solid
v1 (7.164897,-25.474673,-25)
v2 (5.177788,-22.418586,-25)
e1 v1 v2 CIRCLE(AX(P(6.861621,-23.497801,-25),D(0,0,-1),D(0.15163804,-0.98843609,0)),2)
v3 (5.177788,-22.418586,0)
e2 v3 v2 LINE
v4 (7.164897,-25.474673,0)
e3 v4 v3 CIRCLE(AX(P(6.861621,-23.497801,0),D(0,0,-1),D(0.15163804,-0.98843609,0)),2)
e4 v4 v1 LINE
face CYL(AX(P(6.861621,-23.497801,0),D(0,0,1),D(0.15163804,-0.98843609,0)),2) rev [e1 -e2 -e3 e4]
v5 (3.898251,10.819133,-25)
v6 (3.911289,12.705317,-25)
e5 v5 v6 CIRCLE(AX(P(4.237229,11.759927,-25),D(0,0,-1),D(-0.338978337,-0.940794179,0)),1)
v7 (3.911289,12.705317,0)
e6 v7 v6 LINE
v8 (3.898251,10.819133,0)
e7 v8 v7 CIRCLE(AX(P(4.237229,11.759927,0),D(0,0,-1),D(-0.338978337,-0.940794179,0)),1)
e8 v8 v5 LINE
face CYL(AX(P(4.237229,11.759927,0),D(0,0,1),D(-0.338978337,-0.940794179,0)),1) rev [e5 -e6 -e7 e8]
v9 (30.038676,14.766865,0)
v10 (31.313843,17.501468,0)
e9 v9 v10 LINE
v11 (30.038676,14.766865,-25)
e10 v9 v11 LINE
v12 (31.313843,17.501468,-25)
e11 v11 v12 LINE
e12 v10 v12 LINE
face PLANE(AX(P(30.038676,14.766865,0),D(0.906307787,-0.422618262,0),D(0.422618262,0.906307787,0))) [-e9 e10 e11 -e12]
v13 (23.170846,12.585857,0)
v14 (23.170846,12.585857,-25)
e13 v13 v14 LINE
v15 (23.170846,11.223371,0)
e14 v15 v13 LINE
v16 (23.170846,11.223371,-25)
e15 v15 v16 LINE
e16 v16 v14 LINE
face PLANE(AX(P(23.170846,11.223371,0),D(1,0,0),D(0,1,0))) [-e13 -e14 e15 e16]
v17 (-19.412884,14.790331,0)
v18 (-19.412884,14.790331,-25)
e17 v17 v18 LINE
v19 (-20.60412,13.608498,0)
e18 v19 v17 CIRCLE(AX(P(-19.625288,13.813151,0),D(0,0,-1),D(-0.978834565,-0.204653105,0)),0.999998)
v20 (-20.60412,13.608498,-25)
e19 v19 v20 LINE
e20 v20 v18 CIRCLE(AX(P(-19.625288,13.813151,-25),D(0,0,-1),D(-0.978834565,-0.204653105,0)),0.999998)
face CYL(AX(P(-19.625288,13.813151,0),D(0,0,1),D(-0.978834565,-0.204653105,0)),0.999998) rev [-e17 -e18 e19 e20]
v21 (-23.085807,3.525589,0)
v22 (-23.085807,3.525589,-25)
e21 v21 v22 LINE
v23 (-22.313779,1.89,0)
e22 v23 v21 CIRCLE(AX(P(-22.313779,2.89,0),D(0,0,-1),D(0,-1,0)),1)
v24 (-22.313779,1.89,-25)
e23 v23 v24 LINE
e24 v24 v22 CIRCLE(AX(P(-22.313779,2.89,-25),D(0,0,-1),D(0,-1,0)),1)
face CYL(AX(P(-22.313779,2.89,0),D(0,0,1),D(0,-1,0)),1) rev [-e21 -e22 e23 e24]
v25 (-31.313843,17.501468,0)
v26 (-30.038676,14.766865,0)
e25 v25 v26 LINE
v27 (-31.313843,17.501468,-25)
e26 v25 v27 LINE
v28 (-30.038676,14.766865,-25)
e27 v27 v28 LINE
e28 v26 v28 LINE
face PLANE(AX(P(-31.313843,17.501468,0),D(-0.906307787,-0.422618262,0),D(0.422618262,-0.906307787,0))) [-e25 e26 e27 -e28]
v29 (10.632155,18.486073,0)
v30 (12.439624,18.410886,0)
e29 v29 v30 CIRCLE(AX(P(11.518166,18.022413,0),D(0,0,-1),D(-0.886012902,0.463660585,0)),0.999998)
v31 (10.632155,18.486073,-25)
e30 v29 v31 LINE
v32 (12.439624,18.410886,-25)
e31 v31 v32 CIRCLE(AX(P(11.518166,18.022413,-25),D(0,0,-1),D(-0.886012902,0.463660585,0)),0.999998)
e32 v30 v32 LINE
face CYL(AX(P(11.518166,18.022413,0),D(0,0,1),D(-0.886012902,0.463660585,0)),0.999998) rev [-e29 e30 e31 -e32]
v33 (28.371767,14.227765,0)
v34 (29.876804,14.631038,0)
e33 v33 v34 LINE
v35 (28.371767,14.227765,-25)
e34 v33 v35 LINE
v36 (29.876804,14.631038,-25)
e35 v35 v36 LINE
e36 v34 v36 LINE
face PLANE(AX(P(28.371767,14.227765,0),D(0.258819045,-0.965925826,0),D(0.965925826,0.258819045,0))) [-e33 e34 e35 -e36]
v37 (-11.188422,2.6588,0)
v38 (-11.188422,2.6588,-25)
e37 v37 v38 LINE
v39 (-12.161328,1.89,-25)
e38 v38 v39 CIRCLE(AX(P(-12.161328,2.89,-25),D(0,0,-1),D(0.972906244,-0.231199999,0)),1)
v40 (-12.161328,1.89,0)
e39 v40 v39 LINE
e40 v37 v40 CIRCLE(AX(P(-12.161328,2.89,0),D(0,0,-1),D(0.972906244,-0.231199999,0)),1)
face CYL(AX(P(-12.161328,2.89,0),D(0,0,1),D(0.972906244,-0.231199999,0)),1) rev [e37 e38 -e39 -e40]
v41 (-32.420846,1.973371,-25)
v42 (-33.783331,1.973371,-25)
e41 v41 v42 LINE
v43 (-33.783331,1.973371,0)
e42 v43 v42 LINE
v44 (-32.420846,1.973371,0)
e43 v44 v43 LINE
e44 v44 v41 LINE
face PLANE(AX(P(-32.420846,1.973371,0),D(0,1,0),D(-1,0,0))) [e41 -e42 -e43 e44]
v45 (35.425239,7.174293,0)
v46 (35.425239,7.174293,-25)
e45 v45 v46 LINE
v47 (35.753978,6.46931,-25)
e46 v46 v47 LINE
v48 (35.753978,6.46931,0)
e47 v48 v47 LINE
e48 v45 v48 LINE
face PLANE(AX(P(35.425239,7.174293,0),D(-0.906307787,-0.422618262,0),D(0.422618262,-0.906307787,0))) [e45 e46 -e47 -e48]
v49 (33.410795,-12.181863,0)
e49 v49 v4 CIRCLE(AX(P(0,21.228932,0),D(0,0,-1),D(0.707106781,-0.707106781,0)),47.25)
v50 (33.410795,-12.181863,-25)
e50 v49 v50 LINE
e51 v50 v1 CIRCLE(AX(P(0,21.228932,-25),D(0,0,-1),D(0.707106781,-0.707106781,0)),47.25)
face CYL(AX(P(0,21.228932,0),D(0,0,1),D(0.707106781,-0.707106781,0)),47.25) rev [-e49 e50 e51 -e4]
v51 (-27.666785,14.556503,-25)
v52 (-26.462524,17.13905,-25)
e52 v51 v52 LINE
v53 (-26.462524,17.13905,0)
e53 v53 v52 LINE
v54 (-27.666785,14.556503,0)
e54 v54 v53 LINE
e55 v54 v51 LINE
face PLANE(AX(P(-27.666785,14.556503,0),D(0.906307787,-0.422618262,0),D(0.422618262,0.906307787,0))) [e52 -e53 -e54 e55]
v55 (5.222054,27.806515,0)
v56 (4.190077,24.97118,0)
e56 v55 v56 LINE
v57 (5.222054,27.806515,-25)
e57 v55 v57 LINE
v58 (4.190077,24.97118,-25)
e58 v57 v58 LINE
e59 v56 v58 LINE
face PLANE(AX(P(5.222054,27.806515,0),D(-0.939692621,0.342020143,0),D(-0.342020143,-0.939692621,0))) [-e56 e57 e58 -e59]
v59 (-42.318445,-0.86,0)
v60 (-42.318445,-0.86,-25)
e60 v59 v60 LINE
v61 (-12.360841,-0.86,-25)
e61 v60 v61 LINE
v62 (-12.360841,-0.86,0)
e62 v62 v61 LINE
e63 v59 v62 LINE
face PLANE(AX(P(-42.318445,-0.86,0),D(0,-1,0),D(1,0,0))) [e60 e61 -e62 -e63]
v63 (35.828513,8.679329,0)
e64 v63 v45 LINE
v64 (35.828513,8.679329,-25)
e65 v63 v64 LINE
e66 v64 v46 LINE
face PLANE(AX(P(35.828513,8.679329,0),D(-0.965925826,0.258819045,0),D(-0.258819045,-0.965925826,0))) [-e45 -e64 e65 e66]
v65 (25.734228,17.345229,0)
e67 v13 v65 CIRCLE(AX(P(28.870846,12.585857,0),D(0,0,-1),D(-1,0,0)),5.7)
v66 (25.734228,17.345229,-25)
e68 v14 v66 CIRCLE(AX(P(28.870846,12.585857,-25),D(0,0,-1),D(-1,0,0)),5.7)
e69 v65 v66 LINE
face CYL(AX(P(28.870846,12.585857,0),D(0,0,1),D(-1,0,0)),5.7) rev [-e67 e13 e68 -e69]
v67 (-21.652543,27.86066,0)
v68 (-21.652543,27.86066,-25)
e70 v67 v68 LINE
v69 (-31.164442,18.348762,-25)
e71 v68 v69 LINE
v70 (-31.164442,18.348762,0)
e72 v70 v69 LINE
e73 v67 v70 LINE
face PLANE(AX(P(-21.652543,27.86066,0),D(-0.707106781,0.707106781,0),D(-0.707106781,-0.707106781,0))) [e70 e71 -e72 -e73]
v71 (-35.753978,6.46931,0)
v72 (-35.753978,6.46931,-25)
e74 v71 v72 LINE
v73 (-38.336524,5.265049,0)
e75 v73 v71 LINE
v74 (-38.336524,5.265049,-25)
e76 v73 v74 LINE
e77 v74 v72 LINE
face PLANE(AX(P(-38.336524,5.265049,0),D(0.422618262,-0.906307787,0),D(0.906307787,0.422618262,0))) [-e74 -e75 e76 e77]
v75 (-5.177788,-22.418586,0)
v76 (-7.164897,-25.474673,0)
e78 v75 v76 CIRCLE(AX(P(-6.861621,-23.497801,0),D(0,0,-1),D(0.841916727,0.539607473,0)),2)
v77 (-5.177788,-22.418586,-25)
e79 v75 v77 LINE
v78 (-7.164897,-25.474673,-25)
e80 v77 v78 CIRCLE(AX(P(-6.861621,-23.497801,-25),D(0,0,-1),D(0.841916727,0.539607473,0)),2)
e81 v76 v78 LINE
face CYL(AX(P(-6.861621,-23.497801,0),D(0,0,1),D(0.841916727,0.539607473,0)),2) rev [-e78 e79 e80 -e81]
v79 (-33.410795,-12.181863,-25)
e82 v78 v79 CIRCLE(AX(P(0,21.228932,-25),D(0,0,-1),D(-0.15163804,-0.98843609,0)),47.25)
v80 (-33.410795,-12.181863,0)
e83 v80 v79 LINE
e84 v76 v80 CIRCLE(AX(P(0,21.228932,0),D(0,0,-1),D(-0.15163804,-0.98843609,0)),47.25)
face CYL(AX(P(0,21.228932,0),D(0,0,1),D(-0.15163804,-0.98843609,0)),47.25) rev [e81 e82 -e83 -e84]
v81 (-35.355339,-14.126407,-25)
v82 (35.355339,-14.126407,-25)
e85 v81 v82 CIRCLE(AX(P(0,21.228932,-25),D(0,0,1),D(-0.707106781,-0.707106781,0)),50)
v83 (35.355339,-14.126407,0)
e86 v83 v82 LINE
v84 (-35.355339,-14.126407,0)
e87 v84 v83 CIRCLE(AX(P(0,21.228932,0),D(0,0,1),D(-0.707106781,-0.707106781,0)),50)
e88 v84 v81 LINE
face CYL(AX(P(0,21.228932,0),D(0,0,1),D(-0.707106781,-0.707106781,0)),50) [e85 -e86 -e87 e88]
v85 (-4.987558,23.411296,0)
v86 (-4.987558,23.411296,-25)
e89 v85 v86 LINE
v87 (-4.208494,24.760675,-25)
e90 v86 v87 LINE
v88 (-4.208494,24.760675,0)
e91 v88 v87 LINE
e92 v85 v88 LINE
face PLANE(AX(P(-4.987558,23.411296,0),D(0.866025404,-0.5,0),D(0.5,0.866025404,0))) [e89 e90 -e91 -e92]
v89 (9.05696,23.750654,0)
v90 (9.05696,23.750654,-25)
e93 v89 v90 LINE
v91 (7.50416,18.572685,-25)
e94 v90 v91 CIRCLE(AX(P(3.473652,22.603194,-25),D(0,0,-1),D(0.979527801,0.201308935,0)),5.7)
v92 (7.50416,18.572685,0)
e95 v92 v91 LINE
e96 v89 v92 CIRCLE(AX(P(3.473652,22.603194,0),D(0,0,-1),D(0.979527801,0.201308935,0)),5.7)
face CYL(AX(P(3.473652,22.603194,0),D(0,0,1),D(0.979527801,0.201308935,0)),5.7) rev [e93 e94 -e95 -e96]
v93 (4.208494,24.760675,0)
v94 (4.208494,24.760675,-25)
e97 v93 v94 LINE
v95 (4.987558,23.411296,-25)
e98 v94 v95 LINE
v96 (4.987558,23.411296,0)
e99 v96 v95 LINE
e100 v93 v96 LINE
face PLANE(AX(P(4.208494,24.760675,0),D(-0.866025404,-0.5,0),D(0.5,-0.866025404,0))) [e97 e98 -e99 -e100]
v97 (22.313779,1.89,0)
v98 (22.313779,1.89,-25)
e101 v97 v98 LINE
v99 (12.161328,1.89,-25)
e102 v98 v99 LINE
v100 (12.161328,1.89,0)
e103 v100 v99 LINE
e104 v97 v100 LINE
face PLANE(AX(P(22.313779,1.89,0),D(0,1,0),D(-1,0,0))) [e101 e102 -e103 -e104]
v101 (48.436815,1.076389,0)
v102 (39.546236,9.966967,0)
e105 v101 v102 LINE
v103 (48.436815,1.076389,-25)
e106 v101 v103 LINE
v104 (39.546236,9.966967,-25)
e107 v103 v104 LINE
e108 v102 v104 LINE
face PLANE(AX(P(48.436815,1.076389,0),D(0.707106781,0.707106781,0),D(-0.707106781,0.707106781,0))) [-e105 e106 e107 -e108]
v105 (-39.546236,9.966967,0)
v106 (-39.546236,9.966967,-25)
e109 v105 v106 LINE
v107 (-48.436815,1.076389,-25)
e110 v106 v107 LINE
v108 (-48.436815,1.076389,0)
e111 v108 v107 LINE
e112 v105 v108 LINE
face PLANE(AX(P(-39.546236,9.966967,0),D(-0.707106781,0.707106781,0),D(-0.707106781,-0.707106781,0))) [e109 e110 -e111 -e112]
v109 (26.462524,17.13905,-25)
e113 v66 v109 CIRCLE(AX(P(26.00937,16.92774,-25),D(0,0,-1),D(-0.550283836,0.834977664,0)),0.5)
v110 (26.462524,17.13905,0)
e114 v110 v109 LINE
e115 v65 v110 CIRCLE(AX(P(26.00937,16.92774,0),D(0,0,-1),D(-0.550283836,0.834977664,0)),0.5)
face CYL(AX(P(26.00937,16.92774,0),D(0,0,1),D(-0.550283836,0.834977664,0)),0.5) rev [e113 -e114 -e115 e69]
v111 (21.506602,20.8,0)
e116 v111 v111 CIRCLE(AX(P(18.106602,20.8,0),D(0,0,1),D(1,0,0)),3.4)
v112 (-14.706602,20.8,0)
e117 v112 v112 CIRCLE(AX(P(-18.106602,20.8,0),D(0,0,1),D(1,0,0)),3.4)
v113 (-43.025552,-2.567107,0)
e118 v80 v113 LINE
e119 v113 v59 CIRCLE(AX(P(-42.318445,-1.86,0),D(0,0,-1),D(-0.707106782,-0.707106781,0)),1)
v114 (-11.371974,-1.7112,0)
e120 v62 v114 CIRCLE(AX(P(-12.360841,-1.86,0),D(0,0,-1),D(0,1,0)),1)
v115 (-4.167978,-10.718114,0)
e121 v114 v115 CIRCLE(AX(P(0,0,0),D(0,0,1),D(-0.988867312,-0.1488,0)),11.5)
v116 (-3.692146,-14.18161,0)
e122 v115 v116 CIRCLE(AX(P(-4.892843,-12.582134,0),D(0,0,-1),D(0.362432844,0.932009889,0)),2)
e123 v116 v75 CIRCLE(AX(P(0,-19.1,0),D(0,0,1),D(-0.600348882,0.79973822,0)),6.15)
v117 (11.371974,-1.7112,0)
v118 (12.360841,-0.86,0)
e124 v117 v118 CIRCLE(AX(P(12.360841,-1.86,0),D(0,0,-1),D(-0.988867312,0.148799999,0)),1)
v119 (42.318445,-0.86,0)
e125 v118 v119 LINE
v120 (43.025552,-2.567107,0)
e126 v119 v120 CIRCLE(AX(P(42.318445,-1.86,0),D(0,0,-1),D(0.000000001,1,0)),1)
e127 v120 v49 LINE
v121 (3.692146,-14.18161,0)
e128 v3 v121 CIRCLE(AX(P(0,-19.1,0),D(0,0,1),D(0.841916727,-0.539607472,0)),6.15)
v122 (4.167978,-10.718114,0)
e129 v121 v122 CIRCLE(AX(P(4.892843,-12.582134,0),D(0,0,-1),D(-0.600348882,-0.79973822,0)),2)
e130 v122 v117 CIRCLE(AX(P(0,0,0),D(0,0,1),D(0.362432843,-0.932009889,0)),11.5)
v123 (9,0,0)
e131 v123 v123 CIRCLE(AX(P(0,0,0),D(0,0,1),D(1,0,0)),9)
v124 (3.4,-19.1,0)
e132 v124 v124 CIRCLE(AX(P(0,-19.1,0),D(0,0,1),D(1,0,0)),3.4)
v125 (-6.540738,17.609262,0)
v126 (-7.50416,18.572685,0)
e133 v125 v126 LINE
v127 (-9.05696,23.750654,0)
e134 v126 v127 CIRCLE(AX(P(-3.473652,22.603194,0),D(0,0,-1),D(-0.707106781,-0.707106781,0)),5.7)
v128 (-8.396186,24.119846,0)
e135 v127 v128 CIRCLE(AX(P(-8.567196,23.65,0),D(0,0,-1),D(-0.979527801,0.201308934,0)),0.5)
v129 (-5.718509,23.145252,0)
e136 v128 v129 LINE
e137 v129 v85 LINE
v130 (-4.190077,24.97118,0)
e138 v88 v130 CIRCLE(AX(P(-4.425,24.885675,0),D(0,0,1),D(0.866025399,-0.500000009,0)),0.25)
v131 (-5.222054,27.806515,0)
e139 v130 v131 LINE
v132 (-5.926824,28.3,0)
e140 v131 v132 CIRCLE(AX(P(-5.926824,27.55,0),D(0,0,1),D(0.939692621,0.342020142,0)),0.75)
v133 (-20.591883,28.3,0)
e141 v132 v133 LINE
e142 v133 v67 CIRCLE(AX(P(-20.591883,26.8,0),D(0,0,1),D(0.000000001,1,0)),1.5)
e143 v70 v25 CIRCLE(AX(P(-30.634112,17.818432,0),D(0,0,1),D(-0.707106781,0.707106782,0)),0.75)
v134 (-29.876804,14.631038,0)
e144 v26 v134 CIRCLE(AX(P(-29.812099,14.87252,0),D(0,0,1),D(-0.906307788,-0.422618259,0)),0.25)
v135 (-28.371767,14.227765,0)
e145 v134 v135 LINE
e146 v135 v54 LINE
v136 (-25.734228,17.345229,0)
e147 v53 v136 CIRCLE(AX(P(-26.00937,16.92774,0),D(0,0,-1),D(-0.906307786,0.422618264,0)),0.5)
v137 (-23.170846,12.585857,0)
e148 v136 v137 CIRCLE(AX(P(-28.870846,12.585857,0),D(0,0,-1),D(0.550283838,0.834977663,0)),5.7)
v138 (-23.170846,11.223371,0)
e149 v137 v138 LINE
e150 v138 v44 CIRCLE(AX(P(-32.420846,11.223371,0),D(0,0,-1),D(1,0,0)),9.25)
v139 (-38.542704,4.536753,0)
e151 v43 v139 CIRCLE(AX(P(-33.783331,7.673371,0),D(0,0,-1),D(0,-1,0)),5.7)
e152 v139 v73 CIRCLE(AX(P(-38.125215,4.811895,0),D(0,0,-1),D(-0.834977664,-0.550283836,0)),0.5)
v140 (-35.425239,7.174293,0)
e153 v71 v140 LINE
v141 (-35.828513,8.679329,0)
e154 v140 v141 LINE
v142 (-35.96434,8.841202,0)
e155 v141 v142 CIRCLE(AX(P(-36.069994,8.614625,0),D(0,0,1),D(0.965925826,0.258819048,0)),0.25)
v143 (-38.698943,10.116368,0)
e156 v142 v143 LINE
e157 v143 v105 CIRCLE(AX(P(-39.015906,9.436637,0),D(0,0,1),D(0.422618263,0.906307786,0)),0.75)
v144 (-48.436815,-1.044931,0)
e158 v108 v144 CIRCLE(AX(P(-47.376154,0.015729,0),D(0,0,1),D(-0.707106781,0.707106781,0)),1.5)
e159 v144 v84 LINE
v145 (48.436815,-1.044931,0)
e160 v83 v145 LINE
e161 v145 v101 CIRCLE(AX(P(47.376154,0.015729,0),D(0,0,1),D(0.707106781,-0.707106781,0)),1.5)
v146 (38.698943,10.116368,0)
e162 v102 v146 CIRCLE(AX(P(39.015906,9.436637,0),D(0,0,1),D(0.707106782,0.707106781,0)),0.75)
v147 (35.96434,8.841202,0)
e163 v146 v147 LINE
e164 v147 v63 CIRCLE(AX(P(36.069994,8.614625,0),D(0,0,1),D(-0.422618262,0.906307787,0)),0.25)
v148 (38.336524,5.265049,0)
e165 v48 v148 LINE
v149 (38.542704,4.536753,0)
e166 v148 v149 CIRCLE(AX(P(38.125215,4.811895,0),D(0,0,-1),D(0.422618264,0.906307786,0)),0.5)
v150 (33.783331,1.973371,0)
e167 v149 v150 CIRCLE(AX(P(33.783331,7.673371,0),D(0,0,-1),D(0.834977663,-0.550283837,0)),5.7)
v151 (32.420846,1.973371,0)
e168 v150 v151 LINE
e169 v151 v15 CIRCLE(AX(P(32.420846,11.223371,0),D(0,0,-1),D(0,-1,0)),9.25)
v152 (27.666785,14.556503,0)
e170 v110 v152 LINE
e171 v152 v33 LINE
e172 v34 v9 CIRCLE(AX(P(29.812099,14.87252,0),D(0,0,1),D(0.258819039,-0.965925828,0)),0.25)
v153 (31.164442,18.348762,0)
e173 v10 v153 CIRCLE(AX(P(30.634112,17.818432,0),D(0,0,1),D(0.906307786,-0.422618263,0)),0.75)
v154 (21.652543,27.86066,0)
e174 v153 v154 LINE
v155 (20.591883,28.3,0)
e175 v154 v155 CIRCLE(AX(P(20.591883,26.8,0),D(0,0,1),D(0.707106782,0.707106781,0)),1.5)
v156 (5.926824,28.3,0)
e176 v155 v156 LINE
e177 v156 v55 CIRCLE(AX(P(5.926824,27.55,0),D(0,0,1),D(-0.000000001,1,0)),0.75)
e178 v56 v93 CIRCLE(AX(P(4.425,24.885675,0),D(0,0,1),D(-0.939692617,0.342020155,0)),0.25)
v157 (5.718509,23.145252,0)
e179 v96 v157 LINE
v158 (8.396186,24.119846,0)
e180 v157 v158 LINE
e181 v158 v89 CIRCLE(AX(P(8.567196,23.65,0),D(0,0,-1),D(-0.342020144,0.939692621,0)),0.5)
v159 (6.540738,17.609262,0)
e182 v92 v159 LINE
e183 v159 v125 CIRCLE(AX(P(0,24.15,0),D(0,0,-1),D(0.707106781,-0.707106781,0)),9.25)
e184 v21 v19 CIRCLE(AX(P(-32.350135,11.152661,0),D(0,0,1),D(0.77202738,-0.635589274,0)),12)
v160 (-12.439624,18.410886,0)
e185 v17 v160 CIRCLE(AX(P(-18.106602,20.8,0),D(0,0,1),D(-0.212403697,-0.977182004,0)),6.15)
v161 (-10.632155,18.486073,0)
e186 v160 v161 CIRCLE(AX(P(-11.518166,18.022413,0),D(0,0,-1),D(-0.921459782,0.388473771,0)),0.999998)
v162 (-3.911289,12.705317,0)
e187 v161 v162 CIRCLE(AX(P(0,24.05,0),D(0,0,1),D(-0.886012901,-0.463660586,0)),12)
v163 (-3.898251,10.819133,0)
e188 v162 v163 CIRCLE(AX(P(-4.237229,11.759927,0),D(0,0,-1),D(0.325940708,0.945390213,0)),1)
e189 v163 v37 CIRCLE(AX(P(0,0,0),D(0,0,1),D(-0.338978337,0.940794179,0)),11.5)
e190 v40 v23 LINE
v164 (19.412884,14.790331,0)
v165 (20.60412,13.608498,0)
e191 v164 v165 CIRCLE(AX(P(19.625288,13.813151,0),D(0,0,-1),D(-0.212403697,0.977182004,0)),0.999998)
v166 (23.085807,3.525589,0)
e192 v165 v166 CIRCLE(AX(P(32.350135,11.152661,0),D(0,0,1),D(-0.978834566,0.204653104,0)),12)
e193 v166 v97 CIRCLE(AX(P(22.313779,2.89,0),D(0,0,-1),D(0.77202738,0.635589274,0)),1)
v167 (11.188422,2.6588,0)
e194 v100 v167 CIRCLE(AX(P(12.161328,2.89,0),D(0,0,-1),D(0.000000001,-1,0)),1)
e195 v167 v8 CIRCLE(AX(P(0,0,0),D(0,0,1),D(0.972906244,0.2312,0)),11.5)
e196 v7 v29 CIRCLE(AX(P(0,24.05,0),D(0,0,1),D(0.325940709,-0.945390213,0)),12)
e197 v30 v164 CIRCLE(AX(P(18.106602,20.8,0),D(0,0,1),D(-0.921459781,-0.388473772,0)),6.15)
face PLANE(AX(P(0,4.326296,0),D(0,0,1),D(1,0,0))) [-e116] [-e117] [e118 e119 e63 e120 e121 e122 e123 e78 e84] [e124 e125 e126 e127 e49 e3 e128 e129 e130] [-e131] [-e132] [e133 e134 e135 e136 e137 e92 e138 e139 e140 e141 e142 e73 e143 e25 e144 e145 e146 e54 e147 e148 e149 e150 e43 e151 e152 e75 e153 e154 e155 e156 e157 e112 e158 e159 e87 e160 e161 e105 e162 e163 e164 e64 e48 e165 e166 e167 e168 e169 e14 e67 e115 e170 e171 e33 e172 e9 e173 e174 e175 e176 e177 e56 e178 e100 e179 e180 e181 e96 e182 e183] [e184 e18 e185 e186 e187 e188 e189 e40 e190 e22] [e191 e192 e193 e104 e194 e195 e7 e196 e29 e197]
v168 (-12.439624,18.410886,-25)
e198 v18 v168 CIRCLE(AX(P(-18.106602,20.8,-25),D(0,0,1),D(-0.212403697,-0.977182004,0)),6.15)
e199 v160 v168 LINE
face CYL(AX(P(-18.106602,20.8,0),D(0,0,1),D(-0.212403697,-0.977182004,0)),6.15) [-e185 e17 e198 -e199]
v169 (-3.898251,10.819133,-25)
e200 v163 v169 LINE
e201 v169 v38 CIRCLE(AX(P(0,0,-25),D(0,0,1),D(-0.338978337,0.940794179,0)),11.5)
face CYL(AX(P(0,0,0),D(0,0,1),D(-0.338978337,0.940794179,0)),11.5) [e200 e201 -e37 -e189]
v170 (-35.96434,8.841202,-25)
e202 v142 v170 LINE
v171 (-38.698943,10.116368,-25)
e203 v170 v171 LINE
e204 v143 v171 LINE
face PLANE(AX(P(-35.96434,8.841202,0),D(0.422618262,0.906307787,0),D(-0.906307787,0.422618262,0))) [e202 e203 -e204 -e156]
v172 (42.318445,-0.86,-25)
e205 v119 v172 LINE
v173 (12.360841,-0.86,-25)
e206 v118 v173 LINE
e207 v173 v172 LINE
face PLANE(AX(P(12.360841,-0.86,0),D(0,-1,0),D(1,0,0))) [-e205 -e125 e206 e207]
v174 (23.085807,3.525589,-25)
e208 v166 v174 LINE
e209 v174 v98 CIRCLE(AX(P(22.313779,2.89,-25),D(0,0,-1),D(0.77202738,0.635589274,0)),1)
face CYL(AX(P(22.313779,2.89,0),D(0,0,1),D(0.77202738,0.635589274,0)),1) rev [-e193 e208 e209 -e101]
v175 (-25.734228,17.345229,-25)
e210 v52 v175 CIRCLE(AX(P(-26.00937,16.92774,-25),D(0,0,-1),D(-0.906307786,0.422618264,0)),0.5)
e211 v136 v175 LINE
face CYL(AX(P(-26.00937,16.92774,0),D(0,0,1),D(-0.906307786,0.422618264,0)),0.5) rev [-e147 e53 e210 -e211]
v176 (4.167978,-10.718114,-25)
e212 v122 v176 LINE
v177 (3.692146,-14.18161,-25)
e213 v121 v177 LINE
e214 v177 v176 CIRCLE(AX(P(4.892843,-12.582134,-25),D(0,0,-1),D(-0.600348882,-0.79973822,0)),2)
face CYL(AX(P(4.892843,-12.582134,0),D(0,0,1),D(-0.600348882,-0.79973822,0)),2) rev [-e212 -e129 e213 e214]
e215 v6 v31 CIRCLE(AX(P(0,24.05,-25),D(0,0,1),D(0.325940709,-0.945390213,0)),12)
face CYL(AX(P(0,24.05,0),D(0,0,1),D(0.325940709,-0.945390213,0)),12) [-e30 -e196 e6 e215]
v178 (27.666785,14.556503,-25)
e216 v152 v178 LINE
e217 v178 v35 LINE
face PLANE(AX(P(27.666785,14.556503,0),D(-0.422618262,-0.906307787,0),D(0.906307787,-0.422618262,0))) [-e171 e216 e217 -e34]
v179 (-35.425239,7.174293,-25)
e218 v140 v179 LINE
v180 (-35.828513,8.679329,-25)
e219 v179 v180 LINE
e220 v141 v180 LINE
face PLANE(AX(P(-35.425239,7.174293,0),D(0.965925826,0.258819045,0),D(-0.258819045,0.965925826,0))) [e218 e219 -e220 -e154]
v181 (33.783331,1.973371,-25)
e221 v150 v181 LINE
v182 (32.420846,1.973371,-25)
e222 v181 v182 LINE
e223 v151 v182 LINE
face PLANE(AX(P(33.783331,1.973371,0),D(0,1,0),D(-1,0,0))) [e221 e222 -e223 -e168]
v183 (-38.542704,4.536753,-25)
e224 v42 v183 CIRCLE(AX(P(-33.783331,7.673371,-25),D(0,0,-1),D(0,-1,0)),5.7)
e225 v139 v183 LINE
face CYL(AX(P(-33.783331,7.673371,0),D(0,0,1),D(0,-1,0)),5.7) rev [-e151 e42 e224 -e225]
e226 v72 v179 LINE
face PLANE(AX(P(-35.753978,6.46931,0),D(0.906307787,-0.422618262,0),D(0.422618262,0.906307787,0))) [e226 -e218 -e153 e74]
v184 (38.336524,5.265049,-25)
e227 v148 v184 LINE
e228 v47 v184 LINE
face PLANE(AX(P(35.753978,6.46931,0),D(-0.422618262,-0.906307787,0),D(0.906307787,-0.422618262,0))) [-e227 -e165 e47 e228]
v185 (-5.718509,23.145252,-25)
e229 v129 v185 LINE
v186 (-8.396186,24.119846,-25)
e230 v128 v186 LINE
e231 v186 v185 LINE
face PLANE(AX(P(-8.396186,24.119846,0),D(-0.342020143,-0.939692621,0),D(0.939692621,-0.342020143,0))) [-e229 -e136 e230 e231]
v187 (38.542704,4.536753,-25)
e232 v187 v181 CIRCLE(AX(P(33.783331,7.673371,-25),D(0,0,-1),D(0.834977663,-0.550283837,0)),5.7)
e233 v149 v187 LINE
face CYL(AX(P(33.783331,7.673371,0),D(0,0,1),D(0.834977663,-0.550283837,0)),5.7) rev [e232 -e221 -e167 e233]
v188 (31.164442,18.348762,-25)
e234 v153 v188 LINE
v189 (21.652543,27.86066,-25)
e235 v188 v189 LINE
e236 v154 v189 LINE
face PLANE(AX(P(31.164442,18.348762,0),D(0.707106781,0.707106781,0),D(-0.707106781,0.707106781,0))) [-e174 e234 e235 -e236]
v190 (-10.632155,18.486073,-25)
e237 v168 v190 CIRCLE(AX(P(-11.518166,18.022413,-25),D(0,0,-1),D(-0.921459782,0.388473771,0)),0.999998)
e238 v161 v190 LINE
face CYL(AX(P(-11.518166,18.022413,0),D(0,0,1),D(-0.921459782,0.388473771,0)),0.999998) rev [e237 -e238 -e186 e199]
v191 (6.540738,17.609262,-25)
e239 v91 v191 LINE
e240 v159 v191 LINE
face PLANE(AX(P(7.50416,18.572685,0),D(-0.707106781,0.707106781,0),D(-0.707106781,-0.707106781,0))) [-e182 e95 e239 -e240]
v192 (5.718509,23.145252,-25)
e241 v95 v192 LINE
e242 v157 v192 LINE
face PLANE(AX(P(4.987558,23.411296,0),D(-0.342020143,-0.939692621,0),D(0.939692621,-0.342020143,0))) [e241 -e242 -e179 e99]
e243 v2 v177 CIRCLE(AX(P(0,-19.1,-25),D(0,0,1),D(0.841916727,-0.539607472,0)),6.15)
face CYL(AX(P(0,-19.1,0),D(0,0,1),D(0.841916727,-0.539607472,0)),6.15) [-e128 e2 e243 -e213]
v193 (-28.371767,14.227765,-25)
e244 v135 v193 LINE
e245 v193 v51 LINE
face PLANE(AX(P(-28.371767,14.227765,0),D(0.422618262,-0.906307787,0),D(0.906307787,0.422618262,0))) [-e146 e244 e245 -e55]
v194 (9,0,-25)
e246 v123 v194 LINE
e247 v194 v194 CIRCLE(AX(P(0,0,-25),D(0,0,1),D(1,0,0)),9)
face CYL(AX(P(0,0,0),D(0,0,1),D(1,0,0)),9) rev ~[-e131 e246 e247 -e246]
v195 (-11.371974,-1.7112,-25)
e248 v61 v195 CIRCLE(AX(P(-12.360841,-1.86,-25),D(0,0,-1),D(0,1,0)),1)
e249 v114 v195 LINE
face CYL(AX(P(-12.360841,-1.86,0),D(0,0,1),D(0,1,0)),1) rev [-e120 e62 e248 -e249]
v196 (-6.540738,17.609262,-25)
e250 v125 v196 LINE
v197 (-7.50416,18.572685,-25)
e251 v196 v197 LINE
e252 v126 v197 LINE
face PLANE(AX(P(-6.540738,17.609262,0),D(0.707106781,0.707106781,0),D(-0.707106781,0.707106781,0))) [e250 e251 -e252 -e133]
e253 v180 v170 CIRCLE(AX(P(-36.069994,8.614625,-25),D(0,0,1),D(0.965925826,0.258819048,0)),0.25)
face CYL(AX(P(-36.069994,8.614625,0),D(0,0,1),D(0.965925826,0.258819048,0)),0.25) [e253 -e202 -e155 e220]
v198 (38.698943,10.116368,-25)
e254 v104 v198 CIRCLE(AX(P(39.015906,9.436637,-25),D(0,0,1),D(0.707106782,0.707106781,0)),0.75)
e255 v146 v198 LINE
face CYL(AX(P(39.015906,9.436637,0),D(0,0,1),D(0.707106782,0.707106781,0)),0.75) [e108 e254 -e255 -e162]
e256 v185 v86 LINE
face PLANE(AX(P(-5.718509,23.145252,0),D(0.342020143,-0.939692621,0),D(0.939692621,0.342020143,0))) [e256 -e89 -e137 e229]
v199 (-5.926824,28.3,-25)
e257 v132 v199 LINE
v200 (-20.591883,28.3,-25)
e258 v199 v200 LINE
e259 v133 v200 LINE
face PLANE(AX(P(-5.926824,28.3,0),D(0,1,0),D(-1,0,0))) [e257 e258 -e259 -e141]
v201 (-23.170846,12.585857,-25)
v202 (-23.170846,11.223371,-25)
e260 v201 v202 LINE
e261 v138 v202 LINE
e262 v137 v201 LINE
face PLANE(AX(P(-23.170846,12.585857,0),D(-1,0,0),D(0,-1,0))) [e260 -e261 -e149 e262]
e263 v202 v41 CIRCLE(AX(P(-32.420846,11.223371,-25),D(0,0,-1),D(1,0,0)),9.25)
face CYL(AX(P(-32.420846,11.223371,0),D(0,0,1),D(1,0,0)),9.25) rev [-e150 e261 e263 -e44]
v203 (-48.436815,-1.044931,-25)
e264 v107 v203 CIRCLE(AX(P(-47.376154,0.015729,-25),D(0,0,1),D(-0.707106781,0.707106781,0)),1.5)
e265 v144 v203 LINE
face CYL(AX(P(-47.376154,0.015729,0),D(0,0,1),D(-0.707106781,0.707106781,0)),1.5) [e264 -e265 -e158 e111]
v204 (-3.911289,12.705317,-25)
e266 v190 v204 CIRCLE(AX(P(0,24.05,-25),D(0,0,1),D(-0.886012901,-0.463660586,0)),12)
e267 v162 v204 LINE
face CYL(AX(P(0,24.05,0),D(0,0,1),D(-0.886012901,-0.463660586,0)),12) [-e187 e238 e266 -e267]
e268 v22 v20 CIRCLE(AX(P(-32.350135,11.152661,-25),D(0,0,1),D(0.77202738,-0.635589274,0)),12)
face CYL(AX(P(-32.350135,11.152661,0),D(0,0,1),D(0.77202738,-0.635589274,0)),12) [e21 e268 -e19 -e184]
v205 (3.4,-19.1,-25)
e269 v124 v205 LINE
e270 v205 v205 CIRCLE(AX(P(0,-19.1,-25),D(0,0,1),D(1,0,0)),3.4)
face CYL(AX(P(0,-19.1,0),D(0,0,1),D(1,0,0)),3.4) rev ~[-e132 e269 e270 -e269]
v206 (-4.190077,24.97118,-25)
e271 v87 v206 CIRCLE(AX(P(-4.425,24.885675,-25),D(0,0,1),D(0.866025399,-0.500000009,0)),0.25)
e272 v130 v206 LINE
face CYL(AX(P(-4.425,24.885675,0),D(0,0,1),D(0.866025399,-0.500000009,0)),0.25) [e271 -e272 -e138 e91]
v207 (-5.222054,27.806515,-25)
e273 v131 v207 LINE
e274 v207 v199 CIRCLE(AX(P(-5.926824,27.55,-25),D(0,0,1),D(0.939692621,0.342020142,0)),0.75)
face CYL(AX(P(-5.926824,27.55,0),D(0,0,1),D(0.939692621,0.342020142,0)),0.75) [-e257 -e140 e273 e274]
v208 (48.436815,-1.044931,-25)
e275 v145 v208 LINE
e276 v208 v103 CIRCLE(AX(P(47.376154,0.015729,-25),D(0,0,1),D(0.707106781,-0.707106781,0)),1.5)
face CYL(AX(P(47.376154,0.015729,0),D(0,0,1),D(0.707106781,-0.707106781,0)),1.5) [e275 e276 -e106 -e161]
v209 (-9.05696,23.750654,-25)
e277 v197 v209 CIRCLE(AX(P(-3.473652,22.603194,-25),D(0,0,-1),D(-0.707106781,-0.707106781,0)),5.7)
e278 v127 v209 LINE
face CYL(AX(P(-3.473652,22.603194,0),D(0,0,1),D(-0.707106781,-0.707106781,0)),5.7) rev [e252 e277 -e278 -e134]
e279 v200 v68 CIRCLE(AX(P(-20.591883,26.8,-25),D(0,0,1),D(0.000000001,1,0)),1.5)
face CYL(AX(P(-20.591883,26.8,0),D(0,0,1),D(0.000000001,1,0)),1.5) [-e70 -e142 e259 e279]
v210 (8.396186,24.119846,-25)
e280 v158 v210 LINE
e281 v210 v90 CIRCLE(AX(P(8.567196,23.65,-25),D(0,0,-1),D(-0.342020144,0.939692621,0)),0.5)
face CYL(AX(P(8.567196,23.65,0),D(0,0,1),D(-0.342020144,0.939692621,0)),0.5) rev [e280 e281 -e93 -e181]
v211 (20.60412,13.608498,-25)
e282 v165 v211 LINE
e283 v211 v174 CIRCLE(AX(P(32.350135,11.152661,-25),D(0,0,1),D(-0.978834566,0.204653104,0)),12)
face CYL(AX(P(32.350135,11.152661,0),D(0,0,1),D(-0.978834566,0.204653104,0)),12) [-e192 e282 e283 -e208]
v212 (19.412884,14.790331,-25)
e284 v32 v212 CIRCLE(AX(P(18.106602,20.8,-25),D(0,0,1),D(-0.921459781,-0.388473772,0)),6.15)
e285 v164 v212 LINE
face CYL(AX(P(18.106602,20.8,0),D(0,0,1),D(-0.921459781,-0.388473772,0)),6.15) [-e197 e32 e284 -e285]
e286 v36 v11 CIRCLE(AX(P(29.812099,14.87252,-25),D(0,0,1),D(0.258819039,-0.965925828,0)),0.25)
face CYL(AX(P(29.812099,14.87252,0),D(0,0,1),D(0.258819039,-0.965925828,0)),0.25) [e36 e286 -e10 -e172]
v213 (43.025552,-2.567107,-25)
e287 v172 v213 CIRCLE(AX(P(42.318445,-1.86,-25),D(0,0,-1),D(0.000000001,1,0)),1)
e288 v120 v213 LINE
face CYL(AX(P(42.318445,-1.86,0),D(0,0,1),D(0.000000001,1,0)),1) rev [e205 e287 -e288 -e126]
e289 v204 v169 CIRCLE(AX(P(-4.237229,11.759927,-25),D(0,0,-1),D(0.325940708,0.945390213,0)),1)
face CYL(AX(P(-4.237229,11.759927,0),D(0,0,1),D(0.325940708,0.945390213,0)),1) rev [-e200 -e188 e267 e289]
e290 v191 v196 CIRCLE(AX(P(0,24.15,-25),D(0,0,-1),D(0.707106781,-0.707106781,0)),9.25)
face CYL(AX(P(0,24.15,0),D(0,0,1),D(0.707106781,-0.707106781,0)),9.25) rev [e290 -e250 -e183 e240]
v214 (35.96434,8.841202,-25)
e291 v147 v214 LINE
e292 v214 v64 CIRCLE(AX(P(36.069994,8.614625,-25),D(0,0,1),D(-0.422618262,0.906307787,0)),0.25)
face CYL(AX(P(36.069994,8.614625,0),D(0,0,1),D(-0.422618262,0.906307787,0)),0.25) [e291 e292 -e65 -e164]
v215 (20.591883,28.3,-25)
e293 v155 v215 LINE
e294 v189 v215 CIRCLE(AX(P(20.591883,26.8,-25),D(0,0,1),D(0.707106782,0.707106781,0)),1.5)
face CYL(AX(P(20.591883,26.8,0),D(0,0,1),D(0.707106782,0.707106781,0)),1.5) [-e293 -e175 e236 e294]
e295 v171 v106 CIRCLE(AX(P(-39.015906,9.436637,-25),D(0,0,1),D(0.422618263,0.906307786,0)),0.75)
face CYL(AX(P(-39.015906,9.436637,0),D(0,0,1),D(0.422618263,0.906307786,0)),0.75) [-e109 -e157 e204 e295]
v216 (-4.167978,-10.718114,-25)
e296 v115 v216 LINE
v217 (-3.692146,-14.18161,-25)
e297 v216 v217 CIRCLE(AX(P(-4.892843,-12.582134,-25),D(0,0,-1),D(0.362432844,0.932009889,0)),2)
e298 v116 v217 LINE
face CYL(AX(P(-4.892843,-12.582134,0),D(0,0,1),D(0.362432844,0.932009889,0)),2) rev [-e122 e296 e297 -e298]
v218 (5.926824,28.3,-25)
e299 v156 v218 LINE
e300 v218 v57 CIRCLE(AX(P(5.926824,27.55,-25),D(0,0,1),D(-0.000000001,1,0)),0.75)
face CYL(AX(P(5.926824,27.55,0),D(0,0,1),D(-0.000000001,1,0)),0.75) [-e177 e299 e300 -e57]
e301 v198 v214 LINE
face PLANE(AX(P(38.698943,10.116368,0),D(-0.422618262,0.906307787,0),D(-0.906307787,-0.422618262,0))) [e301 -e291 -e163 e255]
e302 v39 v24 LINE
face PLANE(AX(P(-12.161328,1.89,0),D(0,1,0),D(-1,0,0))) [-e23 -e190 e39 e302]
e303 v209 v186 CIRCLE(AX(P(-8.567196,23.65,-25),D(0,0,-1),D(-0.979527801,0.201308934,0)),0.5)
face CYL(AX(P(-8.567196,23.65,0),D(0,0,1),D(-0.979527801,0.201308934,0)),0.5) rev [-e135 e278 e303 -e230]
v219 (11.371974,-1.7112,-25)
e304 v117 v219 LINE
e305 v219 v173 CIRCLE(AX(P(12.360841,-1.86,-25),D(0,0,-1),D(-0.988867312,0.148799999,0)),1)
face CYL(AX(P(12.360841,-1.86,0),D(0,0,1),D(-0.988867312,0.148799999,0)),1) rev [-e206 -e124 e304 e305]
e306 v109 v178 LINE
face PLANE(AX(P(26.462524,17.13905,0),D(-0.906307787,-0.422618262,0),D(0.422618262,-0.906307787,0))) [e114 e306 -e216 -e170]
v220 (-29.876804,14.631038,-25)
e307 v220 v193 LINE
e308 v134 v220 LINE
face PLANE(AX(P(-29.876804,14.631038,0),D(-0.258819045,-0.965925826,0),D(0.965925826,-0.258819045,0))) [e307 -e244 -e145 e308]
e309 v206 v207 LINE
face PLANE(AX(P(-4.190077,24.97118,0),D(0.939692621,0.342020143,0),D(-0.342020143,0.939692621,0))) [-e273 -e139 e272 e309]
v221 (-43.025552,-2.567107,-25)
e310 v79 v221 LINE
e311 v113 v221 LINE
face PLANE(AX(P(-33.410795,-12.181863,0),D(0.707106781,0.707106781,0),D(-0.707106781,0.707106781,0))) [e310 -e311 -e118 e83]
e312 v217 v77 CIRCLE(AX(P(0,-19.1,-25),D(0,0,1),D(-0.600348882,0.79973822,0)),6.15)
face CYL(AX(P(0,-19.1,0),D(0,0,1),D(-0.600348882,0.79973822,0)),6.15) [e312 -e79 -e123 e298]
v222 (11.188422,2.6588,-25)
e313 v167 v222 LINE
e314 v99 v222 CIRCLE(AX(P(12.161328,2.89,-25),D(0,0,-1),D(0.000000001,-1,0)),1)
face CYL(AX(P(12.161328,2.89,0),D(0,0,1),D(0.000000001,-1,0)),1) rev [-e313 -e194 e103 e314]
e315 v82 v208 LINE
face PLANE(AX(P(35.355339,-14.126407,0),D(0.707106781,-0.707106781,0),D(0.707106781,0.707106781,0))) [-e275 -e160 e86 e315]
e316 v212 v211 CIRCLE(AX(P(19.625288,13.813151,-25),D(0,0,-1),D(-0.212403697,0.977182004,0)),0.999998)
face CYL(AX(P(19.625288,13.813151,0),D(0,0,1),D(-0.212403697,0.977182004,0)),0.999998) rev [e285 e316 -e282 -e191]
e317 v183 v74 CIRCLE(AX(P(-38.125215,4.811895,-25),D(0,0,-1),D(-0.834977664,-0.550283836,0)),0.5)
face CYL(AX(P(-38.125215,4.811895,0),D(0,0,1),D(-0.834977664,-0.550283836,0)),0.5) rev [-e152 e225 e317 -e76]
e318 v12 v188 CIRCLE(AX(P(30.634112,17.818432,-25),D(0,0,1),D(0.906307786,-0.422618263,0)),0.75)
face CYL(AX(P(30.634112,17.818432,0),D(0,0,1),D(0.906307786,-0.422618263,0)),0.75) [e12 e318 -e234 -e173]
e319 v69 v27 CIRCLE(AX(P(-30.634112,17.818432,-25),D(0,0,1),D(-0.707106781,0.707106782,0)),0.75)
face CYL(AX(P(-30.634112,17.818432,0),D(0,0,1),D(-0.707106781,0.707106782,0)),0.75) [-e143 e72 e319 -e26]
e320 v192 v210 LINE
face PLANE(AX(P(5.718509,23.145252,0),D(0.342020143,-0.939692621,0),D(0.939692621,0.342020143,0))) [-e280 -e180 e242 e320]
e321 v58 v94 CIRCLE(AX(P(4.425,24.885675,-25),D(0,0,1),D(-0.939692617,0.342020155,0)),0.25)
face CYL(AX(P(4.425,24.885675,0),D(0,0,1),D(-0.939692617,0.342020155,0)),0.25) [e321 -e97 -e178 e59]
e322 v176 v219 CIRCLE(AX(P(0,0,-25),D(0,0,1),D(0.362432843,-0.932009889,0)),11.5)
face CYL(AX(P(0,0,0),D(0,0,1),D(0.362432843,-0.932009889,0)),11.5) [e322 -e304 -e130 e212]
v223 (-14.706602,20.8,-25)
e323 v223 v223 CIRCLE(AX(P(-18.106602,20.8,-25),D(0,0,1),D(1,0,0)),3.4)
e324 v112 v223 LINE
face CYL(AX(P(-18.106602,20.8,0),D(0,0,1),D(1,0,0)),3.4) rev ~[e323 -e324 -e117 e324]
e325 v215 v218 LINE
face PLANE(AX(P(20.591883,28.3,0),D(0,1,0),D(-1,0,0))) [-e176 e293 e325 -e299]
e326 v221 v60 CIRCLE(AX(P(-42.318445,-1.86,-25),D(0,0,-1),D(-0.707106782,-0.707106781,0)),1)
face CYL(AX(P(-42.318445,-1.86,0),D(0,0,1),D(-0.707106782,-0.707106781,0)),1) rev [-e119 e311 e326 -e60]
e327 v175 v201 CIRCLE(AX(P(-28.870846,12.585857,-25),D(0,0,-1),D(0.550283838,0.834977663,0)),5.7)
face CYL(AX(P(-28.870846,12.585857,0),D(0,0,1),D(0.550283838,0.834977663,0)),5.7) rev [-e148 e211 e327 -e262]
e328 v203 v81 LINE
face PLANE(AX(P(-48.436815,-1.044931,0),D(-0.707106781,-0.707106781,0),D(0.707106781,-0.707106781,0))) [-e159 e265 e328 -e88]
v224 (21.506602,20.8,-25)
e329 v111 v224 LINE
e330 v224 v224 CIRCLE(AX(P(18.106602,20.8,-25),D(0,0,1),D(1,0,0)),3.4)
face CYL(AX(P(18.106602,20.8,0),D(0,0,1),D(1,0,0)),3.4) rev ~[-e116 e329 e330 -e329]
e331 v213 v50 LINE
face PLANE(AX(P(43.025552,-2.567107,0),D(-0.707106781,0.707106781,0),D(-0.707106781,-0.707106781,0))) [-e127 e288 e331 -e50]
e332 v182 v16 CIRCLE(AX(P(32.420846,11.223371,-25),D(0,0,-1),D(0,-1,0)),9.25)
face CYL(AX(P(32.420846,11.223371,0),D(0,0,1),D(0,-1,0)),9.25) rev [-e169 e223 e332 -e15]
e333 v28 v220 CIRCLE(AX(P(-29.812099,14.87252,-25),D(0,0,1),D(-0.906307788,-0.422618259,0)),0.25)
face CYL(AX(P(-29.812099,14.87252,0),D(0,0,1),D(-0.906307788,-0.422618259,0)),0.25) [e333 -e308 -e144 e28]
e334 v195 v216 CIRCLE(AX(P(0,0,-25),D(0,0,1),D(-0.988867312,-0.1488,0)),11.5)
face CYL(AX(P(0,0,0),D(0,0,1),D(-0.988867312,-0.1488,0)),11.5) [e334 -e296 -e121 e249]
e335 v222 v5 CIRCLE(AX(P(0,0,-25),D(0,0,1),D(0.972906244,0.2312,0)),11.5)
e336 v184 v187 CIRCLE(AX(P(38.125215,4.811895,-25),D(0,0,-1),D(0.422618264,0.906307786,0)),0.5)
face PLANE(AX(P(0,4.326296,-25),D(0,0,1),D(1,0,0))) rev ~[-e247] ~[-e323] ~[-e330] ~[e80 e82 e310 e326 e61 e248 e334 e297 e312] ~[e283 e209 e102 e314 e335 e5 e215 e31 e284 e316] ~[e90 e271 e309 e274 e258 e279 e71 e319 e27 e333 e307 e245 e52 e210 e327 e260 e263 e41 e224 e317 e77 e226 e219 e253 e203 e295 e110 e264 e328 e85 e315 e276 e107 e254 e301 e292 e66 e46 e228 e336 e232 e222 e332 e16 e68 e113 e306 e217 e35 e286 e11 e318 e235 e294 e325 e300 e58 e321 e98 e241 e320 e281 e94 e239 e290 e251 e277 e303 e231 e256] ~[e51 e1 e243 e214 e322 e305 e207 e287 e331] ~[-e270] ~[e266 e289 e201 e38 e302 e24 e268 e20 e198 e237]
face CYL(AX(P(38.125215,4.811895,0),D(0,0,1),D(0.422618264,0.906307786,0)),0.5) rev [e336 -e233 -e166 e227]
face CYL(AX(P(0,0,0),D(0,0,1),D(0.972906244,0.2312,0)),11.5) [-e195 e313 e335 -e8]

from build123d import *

# Parameters (mm, degrees)
SK_MAIN_EXTRUSION_R   = 3.4
SK_MAIN_EXTRUSION_R_2 = 9
MAIN_EXTRUSION_DEPTH  = 25


with BuildPart() as part:
    # Sk Main Extrusion → Main Extrusion (new body)
    with BuildSketch(Plane.XY):
        with BuildLine():
            Line((-35.964339765, 8.84120158), (-38.698942589, 10.116367819))
            ThreePointArc((-38.698942589, 10.116367819), (-39.146142418, 10.175242794), (-39.546236371, 9.966967065))
            Line((-39.546236371, 9.966967065), (-48.436814511, 1.076388924))
            ThreePointArc((-48.436814511, 1.076388924), (-48.876154339, 0.015728753), (-48.436814511, -1.044931419))
            Line((-48.436814511, -1.044931419), (-35.355339059, -14.126406871))
            ThreePointArc((-35.355339059, -14.126406871), (0, -28.771067812), (35.355339059, -14.126406871))
            Line((35.355339059, -14.126406871), (48.436814511, -1.044931419))
            ThreePointArc((48.436814511, -1.044931419), (48.876154339, 0.015728753), (48.436814511, 1.076388924))
            Line((48.436814511, 1.076388924), (39.546236371, 9.966967065))
            ThreePointArc((39.546236371, 9.966967065), (39.146142418, 10.175242794), (38.698942589, 10.116367819))
            Line((38.698942589, 10.116367819), (35.964339765, 8.84120158))
            ThreePointArc((35.964339765, 8.84120158), (35.87848322, 8.775321536), (35.828512874, 8.679329395))
            Line((35.828512874, 8.679329395), (35.425239457, 7.174292513))
            Line((35.425239457, 7.174292513), (35.753978107, 6.469310204))
            Line((35.753978107, 6.469310204), (38.336524222, 5.265049173))
            ThreePointArc((38.336524222, 5.265049173), (38.606308031, 4.948092133), (38.542703923, 4.53675336))
            ThreePointArc((38.542703923, 4.53675336), (36.486225813, 2.654969004), (33.783331243, 1.973371234))
            Line((33.783331243, 1.973371234), (32.420845917, 1.973371234))
            ThreePointArc((32.420845917, 1.973371234), (25.880108191, 4.682633508), (23.170845917, 11.223371234))
            Line((23.170845917, 11.223371234), (23.170845917, 12.585856559))
            ThreePointArc((23.170845917, 12.585856559), (23.852443688, 15.28875113), (25.734228043, 17.34522924))
            ThreePointArc((25.734228043, 17.34522924), (26.145566816, 17.408833348), (26.462523856, 17.139049539))
            Line((26.462523856, 17.139049539), (27.666784887, 14.556503424))
            Line((27.666784887, 14.556503424), (28.371767196, 14.227764774))
            Line((28.371767196, 14.227764774), (29.876804078, 14.631038191))
            ThreePointArc((29.876804078, 14.631038191), (29.972796219, 14.681008536), (30.038676264, 14.766865082))
            Line((30.038676264, 14.766865082), (31.313842502, 17.501467906))
            ThreePointArc((31.313842502, 17.501467906), (31.372717477, 17.948667735), (31.164441748, 18.348761688))
            Line((31.164441748, 18.348761688), (21.652543264, 27.860660172))
            ThreePointArc((21.652543264, 27.860660172), (21.165908241, 28.185819299), (20.591883092, 28.3))
            Line((20.591883092, 28.3), (5.926823816, 28.3))
            ThreePointArc((5.926823816, 28.3), (5.496641489, 28.164364033), (5.222054351, 27.806515107))
            Line((5.222054351, 27.806515107), (4.190076845, 24.971180212))
            ThreePointArc((4.190076845, 24.971180212), (4.175951325, 24.863886241), (4.208493649, 24.760675177))
            Line((4.208493649, 24.760675177), (4.987558066, 23.411296024))
            Line((4.987558066, 23.411296024), (5.718509166, 23.145251581))
            Line((5.718509166, 23.145251581), (8.396186179, 24.11984631))
            ThreePointArc((8.396186179, 24.11984631), (8.811074612, 24.086489799), (9.056960151, 23.750654467))
            ThreePointArc((9.056960151, 23.750654467), (8.933433013, 20.965882372), (7.504160339, 18.572684887))
            Line((7.504160339, 18.572684887), (6.540737726, 17.609262274))
            ThreePointArc((6.540737726, 17.609262274), (0, 14.9), (-6.540737726, 17.609262274))
            Line((-6.540737726, 17.609262274), (-7.504160339, 18.572684887))
            ThreePointArc((-7.504160339, 18.572684887), (-8.933433013, 20.965882372), (-9.056960151, 23.750654467))
            ThreePointArc((-9.056960151, 23.750654467), (-8.811074612, 24.086489799), (-8.396186179, 24.11984631))
            Line((-8.396186179, 24.11984631), (-5.718509166, 23.145251581))
            Line((-5.718509166, 23.145251581), (-4.987558066, 23.411296024))
            Line((-4.987558066, 23.411296024), (-4.208493649, 24.760675177))
            ThreePointArc((-4.208493649, 24.760675177), (-4.175951325, 24.863886241), (-4.190076845, 24.971180212))
            Line((-4.190076845, 24.971180212), (-5.222054351, 27.806515107))
            ThreePointArc((-5.222054351, 27.806515107), (-5.496641489, 28.164364033), (-5.926823816, 28.3))
            Line((-5.926823816, 28.3), (-20.591883092, 28.3))
            ThreePointArc((-20.591883092, 28.3), (-21.165908241, 28.185819299), (-21.652543264, 27.860660172))
            Line((-21.652543264, 27.860660172), (-31.164441748, 18.348761688))
            ThreePointArc((-31.164441748, 18.348761688), (-31.372717477, 17.948667735), (-31.313842502, 17.501467906))
            Line((-31.313842502, 17.501467906), (-30.038676264, 14.766865082))
            ThreePointArc((-30.038676264, 14.766865082), (-29.972796219, 14.681008536), (-29.876804078, 14.631038191))
            Line((-29.876804078, 14.631038191), (-28.371767196, 14.227764774))
            Line((-28.371767196, 14.227764774), (-27.666784887, 14.556503424))
            Line((-27.666784887, 14.556503424), (-26.462523856, 17.139049539))
            ThreePointArc((-26.462523856, 17.139049539), (-26.145566816, 17.408833348), (-25.734228043, 17.34522924))
            ThreePointArc((-25.734228043, 17.34522924), (-23.852443688, 15.28875113), (-23.170845917, 12.585856559))
            Line((-23.170845917, 12.585856559), (-23.170845917, 11.223371234))
            ThreePointArc((-23.170845917, 11.223371234), (-25.880108191, 4.682633508), (-32.420845917, 1.973371234))
            Line((-32.420845917, 1.973371234), (-33.783331243, 1.973371234))
            ThreePointArc((-33.783331243, 1.973371234), (-36.486225813, 2.654969004), (-38.542703923, 4.53675336))
            ThreePointArc((-38.542703923, 4.53675336), (-38.606308031, 4.948092133), (-38.336524222, 5.265049173))
            Line((-38.336524222, 5.265049173), (-35.753978107, 6.469310204))
            Line((-35.753978107, 6.469310204), (-35.425239457, 7.174292513))
            Line((-35.425239457, 7.174292513), (-35.828512874, 8.679329395))
            ThreePointArc((-35.828512874, 8.679329395), (-35.87848322, 8.775321536), (-35.964339765, 8.84120158))
        make_face()
        with Locations((0, -19.1)):
            Circle(SK_MAIN_EXTRUSION_R, mode=Mode.SUBTRACT)
        Circle(SK_MAIN_EXTRUSION_R_2, mode=Mode.SUBTRACT)
        with Locations((18.106601718, 20.8)):
            Circle(SK_MAIN_EXTRUSION_R, mode=Mode.SUBTRACT)
        with Locations((-18.106601718, 20.8)):
            Circle(SK_MAIN_EXTRUSION_R, mode=Mode.SUBTRACT)
        with BuildLine():
            Line((-33.410795411, -12.181863223), (-43.025551853, -2.567106781))
            ThreePointArc((-43.025551853, -2.567106781), (-43.242324604, -1.477316568), (-42.318445072, -0.86))
            Line((-42.318445072, -0.86), (-12.360841395, -0.86))
            ThreePointArc((-12.360841395, -0.86), (-11.708461138, -1.102108187), (-11.371974084, -1.7112))
            ThreePointArc((-11.371974084, -1.7112), (-8.980737669, -7.183059997), (-4.167977698, -10.718113729))
            ThreePointArc((-4.167977698, -10.718113729), (-2.911454942, -12.309920658), (-3.692145622, -14.181609948))
            ThreePointArc((-3.692145622, -14.181609948), (-6.052344462, -18.008383533), (-5.177787873, -22.418585955))
            ThreePointArc((-5.177787873, -22.418585955), (-5.184897798, -24.588029411), (-7.164897408, -25.474673081))
            ThreePointArc((-7.164897408, -25.474673081), (-21.348803489, -20.923067641), (-33.410795411, -12.181863223))
        make_face(mode=Mode.SUBTRACT)
        with BuildLine():
            Line((43.025551853, -2.567106781), (33.410795411, -12.181863223))
            ThreePointArc((33.410795411, -12.181863223), (21.348803489, -20.923067641), (7.164897408, -25.474673081))
            ThreePointArc((7.164897408, -25.474673081), (5.184897798, -24.588029411), (5.177787873, -22.418585955))
            ThreePointArc((5.177787873, -22.418585955), (6.052344462, -18.008383533), (3.692145622, -14.181609948))
            ThreePointArc((3.692145622, -14.181609948), (2.911454942, -12.309920658), (4.167977698, -10.718113729))
            ThreePointArc((4.167977698, -10.718113729), (8.980737669, -7.183059997), (11.371974084, -1.7112))
            ThreePointArc((11.371974084, -1.7112), (11.708461138, -1.102108187), (12.360841395, -0.86))
            Line((12.360841395, -0.86), (42.318445072, -0.86))
            ThreePointArc((42.318445072, -0.86), (43.242324604, -1.477316568), (43.025551853, -2.567106781))
        make_face(mode=Mode.SUBTRACT)
        with BuildLine():
            Line((22.313779306, 1.89), (12.161328052, 1.89))
            ThreePointArc((12.161328052, 1.89), (11.541328052, 2.10539819), (11.188421808, 2.6588))
            ThreePointArc((11.188421808, 2.6588), (8.576111126, 7.661613273), (3.898250872, 10.819133058))
            ThreePointArc((3.898250872, 10.819133058), (3.237253097, 11.766839243), (3.911288501, 12.70531745))
            ThreePointArc((3.911288501, 12.70531745), (7.825101881, 14.952320052), (10.632154811, 18.486072973))
            ThreePointArc((10.632154811, 18.486072973), (11.559727768, 19.021547306), (12.439624063, 18.410886302))
            ThreePointArc((12.439624063, 18.410886302), (15.272696143, 15.341842876), (19.412884455, 14.790330674))
            ThreePointArc((19.412884455, 14.790330674), (20.329585798, 14.523052251), (20.604120456, 13.608497808))
            ThreePointArc((20.604120456, 13.608497808), (20.697886834, 8.284715824), (23.085806686, 3.525589274))
            ThreePointArc((23.085806686, 3.525589274), (23.218099292, 2.463144798), (22.313779306, 1.89))
        make_face(mode=Mode.SUBTRACT)
        with BuildLine():
            Line((-12.161328052, 1.89), (-22.313779306, 1.89))
            ThreePointArc((-22.313779306, 1.89), (-23.218099292, 2.463144798), (-23.085806686, 3.525589274))
            ThreePointArc((-23.085806686, 3.525589274), (-20.697886834, 8.284715824), (-20.604120456, 13.608497808))
            ThreePointArc((-20.604120456, 13.608497808), (-20.329585798, 14.523052251), (-19.412884455, 14.790330674))
            ThreePointArc((-19.412884455, 14.790330674), (-15.272696143, 15.341842876), (-12.439624063, 18.410886302))
            ThreePointArc((-12.439624063, 18.410886302), (-11.559727768, 19.021547306), (-10.632154811, 18.486072973))
            ThreePointArc((-10.632154811, 18.486072973), (-7.825101881, 14.952320052), (-3.911288501, 12.70531745))
            ThreePointArc((-3.911288501, 12.70531745), (-3.237253097, 11.766839243), (-3.898250872, 10.819133058))
            ThreePointArc((-3.898250872, 10.819133058), (-8.576111126, 7.661613273), (-11.188421808, 2.6588))
            ThreePointArc((-11.188421808, 2.6588), (-11.541328052, 2.10539819), (-12.161328052, 1.89))
        make_face(mode=Mode.SUBTRACT)
    extrude(amount=-MAIN_EXTRUSION_DEPTH)


solid = part.part
